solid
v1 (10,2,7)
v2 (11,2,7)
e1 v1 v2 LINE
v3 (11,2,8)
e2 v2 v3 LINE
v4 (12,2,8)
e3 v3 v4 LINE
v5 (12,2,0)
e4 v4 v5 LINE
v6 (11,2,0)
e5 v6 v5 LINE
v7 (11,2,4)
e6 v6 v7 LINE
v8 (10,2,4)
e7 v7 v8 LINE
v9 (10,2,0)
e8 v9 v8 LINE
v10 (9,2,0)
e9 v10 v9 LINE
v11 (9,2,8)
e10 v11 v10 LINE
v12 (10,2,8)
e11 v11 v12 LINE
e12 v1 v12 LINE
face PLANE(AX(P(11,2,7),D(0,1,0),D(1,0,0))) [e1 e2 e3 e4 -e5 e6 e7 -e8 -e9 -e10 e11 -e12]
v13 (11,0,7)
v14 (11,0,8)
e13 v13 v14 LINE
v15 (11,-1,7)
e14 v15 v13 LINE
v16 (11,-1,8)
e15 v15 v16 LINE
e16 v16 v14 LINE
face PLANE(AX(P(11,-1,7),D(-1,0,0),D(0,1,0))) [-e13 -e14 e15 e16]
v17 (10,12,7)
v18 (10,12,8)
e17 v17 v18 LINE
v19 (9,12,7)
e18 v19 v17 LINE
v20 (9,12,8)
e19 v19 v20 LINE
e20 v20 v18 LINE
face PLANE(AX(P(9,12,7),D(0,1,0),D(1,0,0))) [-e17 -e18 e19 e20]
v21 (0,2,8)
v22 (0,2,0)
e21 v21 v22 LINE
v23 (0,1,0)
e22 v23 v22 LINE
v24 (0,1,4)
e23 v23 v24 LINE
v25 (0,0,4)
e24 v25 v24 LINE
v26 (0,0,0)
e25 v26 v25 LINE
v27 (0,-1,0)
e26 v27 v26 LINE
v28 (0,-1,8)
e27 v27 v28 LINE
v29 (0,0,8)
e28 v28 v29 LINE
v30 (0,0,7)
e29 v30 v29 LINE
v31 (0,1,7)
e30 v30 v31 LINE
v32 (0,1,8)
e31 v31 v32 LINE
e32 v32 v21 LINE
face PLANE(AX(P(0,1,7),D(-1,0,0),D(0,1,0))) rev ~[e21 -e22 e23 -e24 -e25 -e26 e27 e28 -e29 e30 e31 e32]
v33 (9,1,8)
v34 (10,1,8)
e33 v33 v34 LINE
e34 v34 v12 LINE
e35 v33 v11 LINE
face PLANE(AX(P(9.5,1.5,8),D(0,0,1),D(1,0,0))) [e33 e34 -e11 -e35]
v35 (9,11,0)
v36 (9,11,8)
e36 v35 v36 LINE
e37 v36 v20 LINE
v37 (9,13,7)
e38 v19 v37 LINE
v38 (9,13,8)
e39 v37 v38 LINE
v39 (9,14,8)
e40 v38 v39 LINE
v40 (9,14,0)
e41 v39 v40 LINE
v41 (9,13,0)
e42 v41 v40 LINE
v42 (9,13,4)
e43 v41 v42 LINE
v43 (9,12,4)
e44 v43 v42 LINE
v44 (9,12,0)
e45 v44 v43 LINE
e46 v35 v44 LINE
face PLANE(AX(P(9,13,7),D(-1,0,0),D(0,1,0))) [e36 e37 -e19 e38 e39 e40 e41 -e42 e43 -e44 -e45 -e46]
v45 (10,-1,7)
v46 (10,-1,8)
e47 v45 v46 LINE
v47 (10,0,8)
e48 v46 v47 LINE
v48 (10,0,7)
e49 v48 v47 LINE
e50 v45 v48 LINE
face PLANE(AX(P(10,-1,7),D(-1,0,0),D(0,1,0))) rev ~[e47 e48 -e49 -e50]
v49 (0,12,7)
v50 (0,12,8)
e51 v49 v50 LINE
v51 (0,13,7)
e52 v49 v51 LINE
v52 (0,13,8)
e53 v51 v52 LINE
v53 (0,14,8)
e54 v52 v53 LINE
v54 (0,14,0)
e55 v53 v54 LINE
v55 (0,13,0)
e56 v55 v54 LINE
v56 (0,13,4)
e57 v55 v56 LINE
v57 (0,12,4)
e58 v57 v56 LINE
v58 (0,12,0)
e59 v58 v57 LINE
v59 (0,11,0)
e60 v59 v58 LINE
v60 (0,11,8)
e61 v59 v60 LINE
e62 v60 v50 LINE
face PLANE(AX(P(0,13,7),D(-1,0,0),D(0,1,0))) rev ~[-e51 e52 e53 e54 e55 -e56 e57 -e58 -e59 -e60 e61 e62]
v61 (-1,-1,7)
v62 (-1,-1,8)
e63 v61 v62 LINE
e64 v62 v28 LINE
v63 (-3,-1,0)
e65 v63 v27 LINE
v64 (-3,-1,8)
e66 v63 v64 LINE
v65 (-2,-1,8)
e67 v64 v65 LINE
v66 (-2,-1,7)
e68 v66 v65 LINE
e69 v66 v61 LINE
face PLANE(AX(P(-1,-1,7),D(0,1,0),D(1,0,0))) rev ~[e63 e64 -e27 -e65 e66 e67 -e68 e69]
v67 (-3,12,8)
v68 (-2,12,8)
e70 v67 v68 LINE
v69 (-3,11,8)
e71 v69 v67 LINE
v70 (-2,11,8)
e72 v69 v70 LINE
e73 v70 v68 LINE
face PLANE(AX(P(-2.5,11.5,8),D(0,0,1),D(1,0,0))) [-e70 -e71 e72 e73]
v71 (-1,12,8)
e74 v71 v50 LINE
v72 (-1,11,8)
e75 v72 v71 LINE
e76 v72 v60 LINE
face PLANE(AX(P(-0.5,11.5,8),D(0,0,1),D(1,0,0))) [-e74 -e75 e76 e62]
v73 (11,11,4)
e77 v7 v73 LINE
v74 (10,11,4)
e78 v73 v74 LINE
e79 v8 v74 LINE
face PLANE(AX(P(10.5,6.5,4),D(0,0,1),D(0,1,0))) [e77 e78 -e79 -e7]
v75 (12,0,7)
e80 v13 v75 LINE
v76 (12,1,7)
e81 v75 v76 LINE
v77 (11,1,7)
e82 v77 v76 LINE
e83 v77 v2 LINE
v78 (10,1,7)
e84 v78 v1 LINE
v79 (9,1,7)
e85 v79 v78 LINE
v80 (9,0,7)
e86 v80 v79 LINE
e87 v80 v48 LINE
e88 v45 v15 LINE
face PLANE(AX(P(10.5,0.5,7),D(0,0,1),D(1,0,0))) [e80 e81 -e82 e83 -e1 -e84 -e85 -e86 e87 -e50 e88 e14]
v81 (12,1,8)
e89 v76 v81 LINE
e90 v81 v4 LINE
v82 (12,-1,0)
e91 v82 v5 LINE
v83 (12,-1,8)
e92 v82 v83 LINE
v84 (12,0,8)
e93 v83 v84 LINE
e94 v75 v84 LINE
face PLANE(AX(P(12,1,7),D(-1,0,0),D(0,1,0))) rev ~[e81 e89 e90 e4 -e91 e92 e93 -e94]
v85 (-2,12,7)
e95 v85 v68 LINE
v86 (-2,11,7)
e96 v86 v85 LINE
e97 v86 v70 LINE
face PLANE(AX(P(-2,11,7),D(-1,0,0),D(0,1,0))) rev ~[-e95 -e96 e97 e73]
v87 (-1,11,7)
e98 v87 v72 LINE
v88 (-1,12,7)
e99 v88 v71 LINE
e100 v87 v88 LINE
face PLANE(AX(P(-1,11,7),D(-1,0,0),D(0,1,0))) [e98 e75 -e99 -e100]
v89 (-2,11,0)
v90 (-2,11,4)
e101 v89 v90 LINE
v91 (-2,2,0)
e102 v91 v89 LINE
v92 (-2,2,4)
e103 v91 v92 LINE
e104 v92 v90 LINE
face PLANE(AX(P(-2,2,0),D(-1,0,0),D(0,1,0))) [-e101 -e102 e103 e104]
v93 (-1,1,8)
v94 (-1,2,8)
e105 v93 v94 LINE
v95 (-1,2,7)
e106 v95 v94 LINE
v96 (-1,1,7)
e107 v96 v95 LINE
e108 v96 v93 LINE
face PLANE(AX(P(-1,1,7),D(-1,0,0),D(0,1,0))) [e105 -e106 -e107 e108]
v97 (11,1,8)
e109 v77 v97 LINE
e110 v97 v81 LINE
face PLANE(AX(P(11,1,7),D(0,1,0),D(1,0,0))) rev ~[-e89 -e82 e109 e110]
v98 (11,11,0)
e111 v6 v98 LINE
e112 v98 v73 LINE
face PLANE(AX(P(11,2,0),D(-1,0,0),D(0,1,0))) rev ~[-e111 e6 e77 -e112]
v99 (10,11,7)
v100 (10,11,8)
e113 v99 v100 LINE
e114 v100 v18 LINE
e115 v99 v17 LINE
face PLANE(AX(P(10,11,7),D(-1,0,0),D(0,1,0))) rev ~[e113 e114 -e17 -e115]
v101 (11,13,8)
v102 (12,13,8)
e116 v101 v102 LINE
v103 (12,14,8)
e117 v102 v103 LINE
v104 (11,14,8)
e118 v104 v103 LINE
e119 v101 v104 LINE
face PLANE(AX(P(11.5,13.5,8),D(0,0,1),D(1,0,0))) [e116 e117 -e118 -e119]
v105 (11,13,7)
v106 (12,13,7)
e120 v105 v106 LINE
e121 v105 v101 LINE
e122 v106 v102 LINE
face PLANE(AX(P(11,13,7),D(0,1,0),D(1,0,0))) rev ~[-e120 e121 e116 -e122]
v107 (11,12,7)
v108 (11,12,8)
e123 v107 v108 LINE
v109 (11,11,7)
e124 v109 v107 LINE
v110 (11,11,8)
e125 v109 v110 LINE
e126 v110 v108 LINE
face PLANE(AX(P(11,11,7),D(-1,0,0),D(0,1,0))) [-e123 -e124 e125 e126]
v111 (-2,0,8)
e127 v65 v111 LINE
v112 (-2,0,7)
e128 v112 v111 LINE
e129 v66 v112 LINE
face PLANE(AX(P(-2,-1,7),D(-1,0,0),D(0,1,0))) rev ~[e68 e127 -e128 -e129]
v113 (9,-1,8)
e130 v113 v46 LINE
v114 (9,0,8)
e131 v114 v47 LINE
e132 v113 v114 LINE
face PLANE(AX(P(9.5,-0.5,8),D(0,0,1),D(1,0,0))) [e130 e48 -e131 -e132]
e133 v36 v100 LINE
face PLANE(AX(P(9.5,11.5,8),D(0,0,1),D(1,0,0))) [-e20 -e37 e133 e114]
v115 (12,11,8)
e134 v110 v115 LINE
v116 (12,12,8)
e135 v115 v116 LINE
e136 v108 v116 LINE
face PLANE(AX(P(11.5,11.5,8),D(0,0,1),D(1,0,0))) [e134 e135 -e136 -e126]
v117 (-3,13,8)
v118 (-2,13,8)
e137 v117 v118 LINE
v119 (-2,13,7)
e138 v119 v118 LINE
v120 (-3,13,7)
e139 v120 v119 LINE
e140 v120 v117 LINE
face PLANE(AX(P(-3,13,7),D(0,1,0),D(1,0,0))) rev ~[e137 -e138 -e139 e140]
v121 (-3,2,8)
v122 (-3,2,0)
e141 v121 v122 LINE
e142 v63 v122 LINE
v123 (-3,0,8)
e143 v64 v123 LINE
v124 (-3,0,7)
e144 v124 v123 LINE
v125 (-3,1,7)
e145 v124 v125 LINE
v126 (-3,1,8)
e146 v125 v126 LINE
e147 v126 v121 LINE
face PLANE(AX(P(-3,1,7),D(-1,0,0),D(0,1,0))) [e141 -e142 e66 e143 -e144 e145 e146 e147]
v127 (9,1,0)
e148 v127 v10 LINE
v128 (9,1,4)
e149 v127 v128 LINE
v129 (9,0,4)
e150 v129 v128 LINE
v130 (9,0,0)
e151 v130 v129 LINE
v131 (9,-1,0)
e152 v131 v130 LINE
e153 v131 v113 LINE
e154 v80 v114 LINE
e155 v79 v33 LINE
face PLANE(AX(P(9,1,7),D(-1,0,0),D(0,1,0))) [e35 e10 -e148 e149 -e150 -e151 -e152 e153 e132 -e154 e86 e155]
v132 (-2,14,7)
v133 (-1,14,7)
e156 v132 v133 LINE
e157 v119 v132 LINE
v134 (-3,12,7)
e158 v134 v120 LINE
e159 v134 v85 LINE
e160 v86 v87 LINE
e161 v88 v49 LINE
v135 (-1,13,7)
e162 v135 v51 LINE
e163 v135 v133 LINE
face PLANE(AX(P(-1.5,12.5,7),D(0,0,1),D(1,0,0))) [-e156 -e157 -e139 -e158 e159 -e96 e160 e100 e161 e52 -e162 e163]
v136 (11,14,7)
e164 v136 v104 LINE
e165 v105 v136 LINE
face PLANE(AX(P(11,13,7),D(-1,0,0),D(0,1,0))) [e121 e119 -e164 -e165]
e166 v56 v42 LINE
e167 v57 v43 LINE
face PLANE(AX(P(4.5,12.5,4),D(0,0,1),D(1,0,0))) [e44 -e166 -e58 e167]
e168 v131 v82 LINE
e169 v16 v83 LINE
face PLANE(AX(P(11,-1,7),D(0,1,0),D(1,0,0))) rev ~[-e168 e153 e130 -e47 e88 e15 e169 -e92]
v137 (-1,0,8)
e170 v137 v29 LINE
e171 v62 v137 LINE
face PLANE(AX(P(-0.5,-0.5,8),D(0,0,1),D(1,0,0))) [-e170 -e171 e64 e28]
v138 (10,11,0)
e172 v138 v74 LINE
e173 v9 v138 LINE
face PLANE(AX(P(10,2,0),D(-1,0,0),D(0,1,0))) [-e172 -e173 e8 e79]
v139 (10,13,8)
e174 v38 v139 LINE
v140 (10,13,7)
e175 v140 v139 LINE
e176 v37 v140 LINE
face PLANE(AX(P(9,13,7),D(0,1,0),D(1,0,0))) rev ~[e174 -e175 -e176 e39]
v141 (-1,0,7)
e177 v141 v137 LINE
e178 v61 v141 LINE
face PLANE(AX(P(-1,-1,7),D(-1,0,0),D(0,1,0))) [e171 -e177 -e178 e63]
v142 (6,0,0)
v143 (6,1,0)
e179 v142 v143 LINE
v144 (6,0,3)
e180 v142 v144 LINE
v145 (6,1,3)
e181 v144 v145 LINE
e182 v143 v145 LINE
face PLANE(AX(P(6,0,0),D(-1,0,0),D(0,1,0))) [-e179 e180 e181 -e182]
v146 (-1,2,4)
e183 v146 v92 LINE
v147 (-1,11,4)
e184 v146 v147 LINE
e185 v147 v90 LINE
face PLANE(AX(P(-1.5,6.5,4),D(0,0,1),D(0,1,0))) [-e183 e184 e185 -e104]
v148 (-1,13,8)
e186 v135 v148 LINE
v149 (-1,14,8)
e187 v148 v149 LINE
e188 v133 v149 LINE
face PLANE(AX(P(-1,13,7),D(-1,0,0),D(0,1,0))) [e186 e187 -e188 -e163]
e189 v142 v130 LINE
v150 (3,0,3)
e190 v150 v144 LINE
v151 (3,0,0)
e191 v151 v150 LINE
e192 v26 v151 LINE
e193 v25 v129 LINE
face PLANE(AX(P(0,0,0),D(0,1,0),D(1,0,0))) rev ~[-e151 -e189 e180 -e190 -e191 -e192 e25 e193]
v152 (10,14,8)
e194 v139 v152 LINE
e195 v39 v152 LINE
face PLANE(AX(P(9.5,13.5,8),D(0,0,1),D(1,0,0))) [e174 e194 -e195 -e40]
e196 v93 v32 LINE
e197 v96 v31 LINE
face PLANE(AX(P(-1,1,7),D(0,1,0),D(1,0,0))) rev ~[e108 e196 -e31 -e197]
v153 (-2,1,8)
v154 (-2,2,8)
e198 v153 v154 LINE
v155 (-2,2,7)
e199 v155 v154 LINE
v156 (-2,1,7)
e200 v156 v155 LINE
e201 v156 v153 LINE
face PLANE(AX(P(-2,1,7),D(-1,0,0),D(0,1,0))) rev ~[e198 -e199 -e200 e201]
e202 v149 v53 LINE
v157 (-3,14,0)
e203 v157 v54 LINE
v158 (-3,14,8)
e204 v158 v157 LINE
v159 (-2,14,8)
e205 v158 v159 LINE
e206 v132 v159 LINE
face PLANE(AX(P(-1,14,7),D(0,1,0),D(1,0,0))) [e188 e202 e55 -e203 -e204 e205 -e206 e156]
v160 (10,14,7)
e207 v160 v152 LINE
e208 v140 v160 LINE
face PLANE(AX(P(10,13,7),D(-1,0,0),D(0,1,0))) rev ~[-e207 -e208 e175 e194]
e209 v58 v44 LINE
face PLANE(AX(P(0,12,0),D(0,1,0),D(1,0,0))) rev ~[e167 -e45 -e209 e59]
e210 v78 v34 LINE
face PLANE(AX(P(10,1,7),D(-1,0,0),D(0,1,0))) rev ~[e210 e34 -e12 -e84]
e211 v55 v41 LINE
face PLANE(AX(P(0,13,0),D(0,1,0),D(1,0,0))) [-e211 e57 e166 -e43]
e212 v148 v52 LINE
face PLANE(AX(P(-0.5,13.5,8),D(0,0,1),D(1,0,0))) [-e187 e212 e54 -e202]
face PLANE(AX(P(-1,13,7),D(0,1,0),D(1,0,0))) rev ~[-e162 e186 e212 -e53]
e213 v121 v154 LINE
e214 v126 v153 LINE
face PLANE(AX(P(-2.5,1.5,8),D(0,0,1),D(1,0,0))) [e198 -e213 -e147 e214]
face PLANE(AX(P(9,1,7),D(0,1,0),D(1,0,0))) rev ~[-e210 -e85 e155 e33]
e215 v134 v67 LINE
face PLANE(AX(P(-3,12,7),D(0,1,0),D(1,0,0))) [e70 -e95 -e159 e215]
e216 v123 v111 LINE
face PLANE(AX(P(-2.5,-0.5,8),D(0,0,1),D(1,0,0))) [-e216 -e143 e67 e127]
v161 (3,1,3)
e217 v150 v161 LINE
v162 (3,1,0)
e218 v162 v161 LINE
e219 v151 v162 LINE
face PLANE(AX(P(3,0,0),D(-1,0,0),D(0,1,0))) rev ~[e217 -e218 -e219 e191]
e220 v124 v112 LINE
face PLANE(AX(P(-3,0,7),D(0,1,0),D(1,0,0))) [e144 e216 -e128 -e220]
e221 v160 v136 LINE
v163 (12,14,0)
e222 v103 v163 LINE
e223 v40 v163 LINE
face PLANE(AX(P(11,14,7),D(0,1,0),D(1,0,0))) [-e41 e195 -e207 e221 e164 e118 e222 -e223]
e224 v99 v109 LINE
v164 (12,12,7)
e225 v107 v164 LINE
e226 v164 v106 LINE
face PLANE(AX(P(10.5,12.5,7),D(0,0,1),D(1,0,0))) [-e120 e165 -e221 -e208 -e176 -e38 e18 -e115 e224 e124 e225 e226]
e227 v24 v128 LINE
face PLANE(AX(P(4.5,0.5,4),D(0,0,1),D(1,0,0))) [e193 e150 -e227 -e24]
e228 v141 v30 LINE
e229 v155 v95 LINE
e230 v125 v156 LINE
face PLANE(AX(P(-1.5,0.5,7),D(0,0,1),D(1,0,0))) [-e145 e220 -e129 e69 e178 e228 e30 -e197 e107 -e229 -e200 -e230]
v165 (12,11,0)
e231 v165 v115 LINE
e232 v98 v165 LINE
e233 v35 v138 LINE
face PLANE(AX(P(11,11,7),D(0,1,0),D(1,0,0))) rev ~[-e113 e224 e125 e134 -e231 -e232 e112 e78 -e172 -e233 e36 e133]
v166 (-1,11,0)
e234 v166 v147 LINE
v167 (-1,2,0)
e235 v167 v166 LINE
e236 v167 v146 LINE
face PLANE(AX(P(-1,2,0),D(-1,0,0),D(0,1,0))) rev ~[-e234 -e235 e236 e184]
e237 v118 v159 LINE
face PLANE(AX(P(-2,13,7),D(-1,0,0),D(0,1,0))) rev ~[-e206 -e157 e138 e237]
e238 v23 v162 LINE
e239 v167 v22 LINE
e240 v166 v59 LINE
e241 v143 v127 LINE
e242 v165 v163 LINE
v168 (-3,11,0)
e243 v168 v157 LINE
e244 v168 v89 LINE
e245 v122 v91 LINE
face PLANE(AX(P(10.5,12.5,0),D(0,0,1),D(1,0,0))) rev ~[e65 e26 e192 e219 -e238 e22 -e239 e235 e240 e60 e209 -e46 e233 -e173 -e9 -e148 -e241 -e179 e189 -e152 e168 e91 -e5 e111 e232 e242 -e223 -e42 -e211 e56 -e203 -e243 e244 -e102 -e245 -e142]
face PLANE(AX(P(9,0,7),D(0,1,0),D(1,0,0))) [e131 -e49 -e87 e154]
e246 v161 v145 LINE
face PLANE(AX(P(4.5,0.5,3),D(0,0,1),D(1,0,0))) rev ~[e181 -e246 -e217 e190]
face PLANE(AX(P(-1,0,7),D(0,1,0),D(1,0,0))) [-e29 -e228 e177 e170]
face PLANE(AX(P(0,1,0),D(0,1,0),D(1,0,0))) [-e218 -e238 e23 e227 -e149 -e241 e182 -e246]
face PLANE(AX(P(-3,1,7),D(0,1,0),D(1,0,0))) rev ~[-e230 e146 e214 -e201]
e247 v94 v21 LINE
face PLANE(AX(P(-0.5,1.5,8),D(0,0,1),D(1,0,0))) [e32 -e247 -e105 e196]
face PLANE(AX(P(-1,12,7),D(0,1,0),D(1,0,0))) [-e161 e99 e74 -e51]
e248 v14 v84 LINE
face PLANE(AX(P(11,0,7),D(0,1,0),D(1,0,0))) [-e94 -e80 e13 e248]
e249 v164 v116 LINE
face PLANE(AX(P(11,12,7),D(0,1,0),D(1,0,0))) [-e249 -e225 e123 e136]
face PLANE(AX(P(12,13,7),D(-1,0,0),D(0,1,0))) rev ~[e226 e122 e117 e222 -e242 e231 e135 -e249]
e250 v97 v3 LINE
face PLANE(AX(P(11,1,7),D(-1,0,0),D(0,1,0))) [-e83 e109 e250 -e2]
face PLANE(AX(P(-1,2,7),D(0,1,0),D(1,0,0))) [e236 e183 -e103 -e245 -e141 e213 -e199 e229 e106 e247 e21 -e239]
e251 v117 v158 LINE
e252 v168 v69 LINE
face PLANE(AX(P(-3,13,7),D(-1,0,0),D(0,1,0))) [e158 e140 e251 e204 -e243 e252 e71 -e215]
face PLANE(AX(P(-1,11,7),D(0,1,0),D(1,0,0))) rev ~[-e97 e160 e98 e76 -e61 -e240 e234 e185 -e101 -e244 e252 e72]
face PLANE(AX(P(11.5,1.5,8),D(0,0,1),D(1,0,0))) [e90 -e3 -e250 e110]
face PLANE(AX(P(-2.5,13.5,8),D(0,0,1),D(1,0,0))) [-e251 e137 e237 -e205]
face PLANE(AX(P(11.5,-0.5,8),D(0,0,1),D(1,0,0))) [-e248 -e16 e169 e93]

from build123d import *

# Parameters (mm, degrees)
BOX015_W     = 1
BOX015_H     = 1
BOX015_DEPTH = 1
BOX016_W     = 1
BOX016_H     = 1
BOX016_DEPTH = 1
BOX018_W     = 1
BOX018_H     = 1
BOX018_DEPTH = 1
BOX017_W     = 1
BOX017_H     = 1
BOX017_DEPTH = 1
BOX014_W     = 3
BOX014_H     = 3
BOX014_DEPTH = 7
BOX024_W     = 9
BOX024_H     = 1
BOX024_DEPTH = 4
BOX020_W     = 1
BOX020_H     = 1
BOX020_DEPTH = 1
BOX021_W     = 1
BOX021_H     = 1
BOX021_DEPTH = 1
BOX023_W     = 1
BOX023_H     = 1
BOX023_DEPTH = 1
BOX022_W     = 1
BOX022_H     = 1
BOX022_DEPTH = 1
BOX019_W     = 3
BOX019_H     = 3
BOX019_DEPTH = 7
BOX003_W     = 9
BOX003_H     = 1
BOX003_DEPTH = 4
BOX004_W     = 9
BOX004_H     = 1
BOX004_DEPTH = 4
BOX010_W     = 1
BOX010_H     = 1
BOX010_DEPTH = 1
BOX011_W     = 1
BOX011_H     = 1
BOX011_DEPTH = 1
BOX013_W     = 1
BOX013_H     = 1
BOX013_DEPTH = 1
BOX012_W     = 1
BOX012_H     = 1
BOX012_DEPTH = 1
BOX009_W     = 3
BOX009_H     = 3
BOX009_DEPTH = 7
BOX005_W     = 1
BOX005_H     = 1
BOX005_DEPTH = 1
BOX006_W     = 1
BOX006_H     = 1
BOX006_DEPTH = 1
BOX008_W     = 1
BOX008_H     = 1
BOX008_DEPTH = 1
BOX007_W     = 1
BOX007_H     = 1
BOX007_DEPTH = 1
BOX001_W     = 3
BOX001_H     = 3
BOX001_DEPTH = 7
BOX025_W     = 3
BOX025_H     = 1
BOX025_DEPTH = 3
BOX_W        = 9
BOX_H        = 1
BOX_DEPTH    = 4


with BuildPart() as cubo015:
    # Box015 → Box015 (new body)
    with BuildSketch(Plane(origin=(-1, 1, 7), x_dir=(1, 0, 0), z_dir=(0, 0, 1))):
        with Locations((0.5, 0.5)):
            Rectangle(BOX015_W, BOX015_H)
    extrude(amount=BOX015_DEPTH)


with BuildPart() as cubo016:
    # Box016 → Box016 (new body)
    with BuildSketch(Plane(origin=(-1, -1, 7), x_dir=(1, 0, 0), z_dir=(0, 0, 1))):
        with Locations((0.5, 0.5)):
            Rectangle(BOX016_W, BOX016_H)
    extrude(amount=BOX016_DEPTH)


with BuildPart() as cubo018:
    # Box018 → Box018 (new body)
    with BuildSketch(Plane(origin=(-3, 1, 7), x_dir=(1, 0, 0), z_dir=(0, 0, 1))):
        with Locations((0.5, 0.5)):
            Rectangle(BOX018_W, BOX018_H)
    extrude(amount=BOX018_DEPTH)


with BuildPart() as cubo017:
    # Box017 → Box017 (new body)
    with BuildSketch(Plane(origin=(-3, -1, 7), x_dir=(1, 0, 0), z_dir=(0, 0, 1))):
        with Locations((0.5, 0.5)):
            Rectangle(BOX017_W, BOX017_H)
    extrude(amount=BOX017_DEPTH)


with BuildPart() as fusion011:
    # Box014 → Box014 (new body)
    with BuildSketch(Plane(origin=(-3, -1, 0), x_dir=(1, 0, 0), z_dir=(0, 0, 1))):
        with Locations((1.5, 1.5)):
            Rectangle(BOX014_W, BOX014_H)
    extrude(amount=BOX014_DEPTH)

    # Fusion008: union Cubo017
    add(cubo017.part)

    # Fusion009: union Cubo018
    add(cubo018.part)

    # Fusion010: union Cubo016
    add(cubo016.part)

    # Fusion011: union Cubo015
    add(cubo015.part)


with BuildPart() as fusion011_1:
    # Fusion011 placement: moved
    add(fusion011.part.moved(Location((12, 12, 0))))


with BuildPart() as cubo024:
    # Box024 → Box024 (new body)
    with BuildSketch(Plane(origin=(0, 12, 0), x_dir=(1, 0, 0), z_dir=(0, 0, 1))):
        with Locations((4.5, 0.5)):
            Rectangle(BOX024_W, BOX024_H)
    extrude(amount=BOX024_DEPTH)


with BuildPart() as cubo020:
    # Box020 → Box020 (new body)
    with BuildSketch(Plane(origin=(-1, 1, 7), x_dir=(1, 0, 0), z_dir=(0, 0, 1))):
        with Locations((0.5, 0.5)):
            Rectangle(BOX020_W, BOX020_H)
    extrude(amount=BOX020_DEPTH)


with BuildPart() as cubo021:
    # Box021 → Box021 (new body)
    with BuildSketch(Plane(origin=(-1, -1, 7), x_dir=(1, 0, 0), z_dir=(0, 0, 1))):
        with Locations((0.5, 0.5)):
            Rectangle(BOX021_W, BOX021_H)
    extrude(amount=BOX021_DEPTH)


with BuildPart() as cubo023:
    # Box023 → Box023 (new body)
    with BuildSketch(Plane(origin=(-3, 1, 7), x_dir=(1, 0, 0), z_dir=(0, 0, 1))):
        with Locations((0.5, 0.5)):
            Rectangle(BOX023_W, BOX023_H)
    extrude(amount=BOX023_DEPTH)


with BuildPart() as cubo022:
    # Box022 → Box022 (new body)
    with BuildSketch(Plane(origin=(-3, -1, 7), x_dir=(1, 0, 0), z_dir=(0, 0, 1))):
        with Locations((0.5, 0.5)):
            Rectangle(BOX022_W, BOX022_H)
    extrude(amount=BOX022_DEPTH)


with BuildPart() as fusion015:
    # Box019 → Box019 (new body)
    with BuildSketch(Plane(origin=(-3, -1, 0), x_dir=(1, 0, 0), z_dir=(0, 0, 1))):
        with Locations((1.5, 1.5)):
            Rectangle(BOX019_W, BOX019_H)
    extrude(amount=BOX019_DEPTH)

    # Fusion012: union Cubo022
    add(cubo022.part)

    # Fusion013: union Cubo023
    add(cubo023.part)

    # Fusion014: union Cubo021
    add(cubo021.part)

    # Fusion015: union Cubo020
    add(cubo020.part)


with BuildPart() as fusion015_1:
    # Fusion015 placement: moved
    add(fusion015.part.moved(Location((0, 12, 0))))


with BuildPart() as cubo003:
    # Box003 → Box003 (new body)
    with BuildSketch(Plane(origin=(-1, 2, 0), x_dir=(0, 1, 0), z_dir=(0, 0, 1))):
        with Locations((4.5, 0.5)):
            Rectangle(BOX003_W, BOX003_H)
    extrude(amount=BOX003_DEPTH)


with BuildPart() as cubo004:
    # Box004 → Box004 (new body)
    with BuildSketch(Plane(origin=(11, 2, 0), x_dir=(0, 1, 0), z_dir=(0, 0, 1))):
        with Locations((4.5, 0.5)):
            Rectangle(BOX004_W, BOX004_H)
    extrude(amount=BOX004_DEPTH)


with BuildPart() as cubo010:
    # Box010 → Box010 (new body)
    with BuildSketch(Plane(origin=(-1, 1, 7), x_dir=(1, 0, 0), z_dir=(0, 0, 1))):
        with Locations((0.5, 0.5)):
            Rectangle(BOX010_W, BOX010_H)
    extrude(amount=BOX010_DEPTH)


with BuildPart() as cubo011:
    # Box011 → Box011 (new body)
    with BuildSketch(Plane(origin=(-1, -1, 7), x_dir=(1, 0, 0), z_dir=(0, 0, 1))):
        with Locations((0.5, 0.5)):
            Rectangle(BOX011_W, BOX011_H)
    extrude(amount=BOX011_DEPTH)


with BuildPart() as cubo013:
    # Box013 → Box013 (new body)
    with BuildSketch(Plane(origin=(-3, 1, 7), x_dir=(1, 0, 0), z_dir=(0, 0, 1))):
        with Locations((0.5, 0.5)):
            Rectangle(BOX013_W, BOX013_H)
    extrude(amount=BOX013_DEPTH)


with BuildPart() as cubo012:
    # Box012 → Box012 (new body)
    with BuildSketch(Plane(origin=(-3, -1, 7), x_dir=(1, 0, 0), z_dir=(0, 0, 1))):
        with Locations((0.5, 0.5)):
            Rectangle(BOX012_W, BOX012_H)
    extrude(amount=BOX012_DEPTH)


with BuildPart() as fusion007:
    # Box009 → Box009 (new body)
    with BuildSketch(Plane(origin=(-3, -1, 0), x_dir=(1, 0, 0), z_dir=(0, 0, 1))):
        with Locations((1.5, 1.5)):
            Rectangle(BOX009_W, BOX009_H)
    extrude(amount=BOX009_DEPTH)

    # Fusion004: union Cubo012
    add(cubo012.part)

    # Fusion005: union Cubo013
    add(cubo013.part)

    # Fusion006: union Cubo011
    add(cubo011.part)

    # Fusion007: union Cubo010
    add(cubo010.part)


with BuildPart() as fusion007_1:
    # Fusion007 placement: moved
    add(fusion007.part.moved(Location((12, 0, 0))))


with BuildPart() as cubo005:
    # Box005 → Box005 (new body)
    with BuildSketch(Plane(origin=(-1, 1, 7), x_dir=(1, 0, 0), z_dir=(0, 0, 1))):
        with Locations((0.5, 0.5)):
            Rectangle(BOX005_W, BOX005_H)
    extrude(amount=BOX005_DEPTH)


with BuildPart() as cubo006:
    # Box006 → Box006 (new body)
    with BuildSketch(Plane(origin=(-1, -1, 7), x_dir=(1, 0, 0), z_dir=(0, 0, 1))):
        with Locations((0.5, 0.5)):
            Rectangle(BOX006_W, BOX006_H)
    extrude(amount=BOX006_DEPTH)


with BuildPart() as cubo008:
    # Box008 → Box008 (new body)
    with BuildSketch(Plane(origin=(-3, 1, 7), x_dir=(1, 0, 0), z_dir=(0, 0, 1))):
        with Locations((0.5, 0.5)):
            Rectangle(BOX008_W, BOX008_H)
    extrude(amount=BOX008_DEPTH)


with BuildPart() as cubo007:
    # Box007 → Box007 (new body)
    with BuildSketch(Plane(origin=(-3, -1, 7), x_dir=(1, 0, 0), z_dir=(0, 0, 1))):
        with Locations((0.5, 0.5)):
            Rectangle(BOX007_W, BOX007_H)
    extrude(amount=BOX007_DEPTH)


with BuildPart() as fusion003:
    # Box001 → Box001 (new body)
    with BuildSketch(Plane(origin=(-3, -1, 0), x_dir=(1, 0, 0), z_dir=(0, 0, 1))):
        with Locations((1.5, 1.5)):
            Rectangle(BOX001_W, BOX001_H)
    extrude(amount=BOX001_DEPTH)

    # Fusion: union Cubo007
    add(cubo007.part)

    # Fusion001: union Cubo008
    add(cubo008.part)

    # Fusion002: union Cubo006
    add(cubo006.part)

    # Fusion003: union Cubo005
    add(cubo005.part)


with BuildPart() as cubo025:
    # Box025 → Box025 (new body)
    with BuildSketch(Plane(origin=(3, 0, 0), x_dir=(1, 0, 0), z_dir=(0, 0, 1))):
        with Locations((1.5, 0.5)):
            Rectangle(BOX025_W, BOX025_H)
    extrude(amount=BOX025_DEPTH)


with BuildPart() as fusion022:
    # Box → Box (new body)
    with BuildSketch(Plane.XY):
        with Locations((4.5, 0.5)):
            Rectangle(BOX_W, BOX_H)
    extrude(amount=BOX_DEPTH)

    # Cut: cut Cubo025
    add(cubo025.part, mode=Mode.SUBTRACT)

    # Fusion016: union Fusion003
    add(fusion003.part)

    # Fusion017: union Fusion007
    add(fusion007_1.part)

    # Fusion018: union Cubo004
    add(cubo004.part)

    # Fusion019: union Cubo003
    add(cubo003.part)

    # Fusion020: union Fusion015
    add(fusion015_1.part)

    # Fusion021: union Cubo024
    add(cubo024.part)

    # Fusion022: union Fusion011
    add(fusion011_1.part)


solid = fusion022.part
